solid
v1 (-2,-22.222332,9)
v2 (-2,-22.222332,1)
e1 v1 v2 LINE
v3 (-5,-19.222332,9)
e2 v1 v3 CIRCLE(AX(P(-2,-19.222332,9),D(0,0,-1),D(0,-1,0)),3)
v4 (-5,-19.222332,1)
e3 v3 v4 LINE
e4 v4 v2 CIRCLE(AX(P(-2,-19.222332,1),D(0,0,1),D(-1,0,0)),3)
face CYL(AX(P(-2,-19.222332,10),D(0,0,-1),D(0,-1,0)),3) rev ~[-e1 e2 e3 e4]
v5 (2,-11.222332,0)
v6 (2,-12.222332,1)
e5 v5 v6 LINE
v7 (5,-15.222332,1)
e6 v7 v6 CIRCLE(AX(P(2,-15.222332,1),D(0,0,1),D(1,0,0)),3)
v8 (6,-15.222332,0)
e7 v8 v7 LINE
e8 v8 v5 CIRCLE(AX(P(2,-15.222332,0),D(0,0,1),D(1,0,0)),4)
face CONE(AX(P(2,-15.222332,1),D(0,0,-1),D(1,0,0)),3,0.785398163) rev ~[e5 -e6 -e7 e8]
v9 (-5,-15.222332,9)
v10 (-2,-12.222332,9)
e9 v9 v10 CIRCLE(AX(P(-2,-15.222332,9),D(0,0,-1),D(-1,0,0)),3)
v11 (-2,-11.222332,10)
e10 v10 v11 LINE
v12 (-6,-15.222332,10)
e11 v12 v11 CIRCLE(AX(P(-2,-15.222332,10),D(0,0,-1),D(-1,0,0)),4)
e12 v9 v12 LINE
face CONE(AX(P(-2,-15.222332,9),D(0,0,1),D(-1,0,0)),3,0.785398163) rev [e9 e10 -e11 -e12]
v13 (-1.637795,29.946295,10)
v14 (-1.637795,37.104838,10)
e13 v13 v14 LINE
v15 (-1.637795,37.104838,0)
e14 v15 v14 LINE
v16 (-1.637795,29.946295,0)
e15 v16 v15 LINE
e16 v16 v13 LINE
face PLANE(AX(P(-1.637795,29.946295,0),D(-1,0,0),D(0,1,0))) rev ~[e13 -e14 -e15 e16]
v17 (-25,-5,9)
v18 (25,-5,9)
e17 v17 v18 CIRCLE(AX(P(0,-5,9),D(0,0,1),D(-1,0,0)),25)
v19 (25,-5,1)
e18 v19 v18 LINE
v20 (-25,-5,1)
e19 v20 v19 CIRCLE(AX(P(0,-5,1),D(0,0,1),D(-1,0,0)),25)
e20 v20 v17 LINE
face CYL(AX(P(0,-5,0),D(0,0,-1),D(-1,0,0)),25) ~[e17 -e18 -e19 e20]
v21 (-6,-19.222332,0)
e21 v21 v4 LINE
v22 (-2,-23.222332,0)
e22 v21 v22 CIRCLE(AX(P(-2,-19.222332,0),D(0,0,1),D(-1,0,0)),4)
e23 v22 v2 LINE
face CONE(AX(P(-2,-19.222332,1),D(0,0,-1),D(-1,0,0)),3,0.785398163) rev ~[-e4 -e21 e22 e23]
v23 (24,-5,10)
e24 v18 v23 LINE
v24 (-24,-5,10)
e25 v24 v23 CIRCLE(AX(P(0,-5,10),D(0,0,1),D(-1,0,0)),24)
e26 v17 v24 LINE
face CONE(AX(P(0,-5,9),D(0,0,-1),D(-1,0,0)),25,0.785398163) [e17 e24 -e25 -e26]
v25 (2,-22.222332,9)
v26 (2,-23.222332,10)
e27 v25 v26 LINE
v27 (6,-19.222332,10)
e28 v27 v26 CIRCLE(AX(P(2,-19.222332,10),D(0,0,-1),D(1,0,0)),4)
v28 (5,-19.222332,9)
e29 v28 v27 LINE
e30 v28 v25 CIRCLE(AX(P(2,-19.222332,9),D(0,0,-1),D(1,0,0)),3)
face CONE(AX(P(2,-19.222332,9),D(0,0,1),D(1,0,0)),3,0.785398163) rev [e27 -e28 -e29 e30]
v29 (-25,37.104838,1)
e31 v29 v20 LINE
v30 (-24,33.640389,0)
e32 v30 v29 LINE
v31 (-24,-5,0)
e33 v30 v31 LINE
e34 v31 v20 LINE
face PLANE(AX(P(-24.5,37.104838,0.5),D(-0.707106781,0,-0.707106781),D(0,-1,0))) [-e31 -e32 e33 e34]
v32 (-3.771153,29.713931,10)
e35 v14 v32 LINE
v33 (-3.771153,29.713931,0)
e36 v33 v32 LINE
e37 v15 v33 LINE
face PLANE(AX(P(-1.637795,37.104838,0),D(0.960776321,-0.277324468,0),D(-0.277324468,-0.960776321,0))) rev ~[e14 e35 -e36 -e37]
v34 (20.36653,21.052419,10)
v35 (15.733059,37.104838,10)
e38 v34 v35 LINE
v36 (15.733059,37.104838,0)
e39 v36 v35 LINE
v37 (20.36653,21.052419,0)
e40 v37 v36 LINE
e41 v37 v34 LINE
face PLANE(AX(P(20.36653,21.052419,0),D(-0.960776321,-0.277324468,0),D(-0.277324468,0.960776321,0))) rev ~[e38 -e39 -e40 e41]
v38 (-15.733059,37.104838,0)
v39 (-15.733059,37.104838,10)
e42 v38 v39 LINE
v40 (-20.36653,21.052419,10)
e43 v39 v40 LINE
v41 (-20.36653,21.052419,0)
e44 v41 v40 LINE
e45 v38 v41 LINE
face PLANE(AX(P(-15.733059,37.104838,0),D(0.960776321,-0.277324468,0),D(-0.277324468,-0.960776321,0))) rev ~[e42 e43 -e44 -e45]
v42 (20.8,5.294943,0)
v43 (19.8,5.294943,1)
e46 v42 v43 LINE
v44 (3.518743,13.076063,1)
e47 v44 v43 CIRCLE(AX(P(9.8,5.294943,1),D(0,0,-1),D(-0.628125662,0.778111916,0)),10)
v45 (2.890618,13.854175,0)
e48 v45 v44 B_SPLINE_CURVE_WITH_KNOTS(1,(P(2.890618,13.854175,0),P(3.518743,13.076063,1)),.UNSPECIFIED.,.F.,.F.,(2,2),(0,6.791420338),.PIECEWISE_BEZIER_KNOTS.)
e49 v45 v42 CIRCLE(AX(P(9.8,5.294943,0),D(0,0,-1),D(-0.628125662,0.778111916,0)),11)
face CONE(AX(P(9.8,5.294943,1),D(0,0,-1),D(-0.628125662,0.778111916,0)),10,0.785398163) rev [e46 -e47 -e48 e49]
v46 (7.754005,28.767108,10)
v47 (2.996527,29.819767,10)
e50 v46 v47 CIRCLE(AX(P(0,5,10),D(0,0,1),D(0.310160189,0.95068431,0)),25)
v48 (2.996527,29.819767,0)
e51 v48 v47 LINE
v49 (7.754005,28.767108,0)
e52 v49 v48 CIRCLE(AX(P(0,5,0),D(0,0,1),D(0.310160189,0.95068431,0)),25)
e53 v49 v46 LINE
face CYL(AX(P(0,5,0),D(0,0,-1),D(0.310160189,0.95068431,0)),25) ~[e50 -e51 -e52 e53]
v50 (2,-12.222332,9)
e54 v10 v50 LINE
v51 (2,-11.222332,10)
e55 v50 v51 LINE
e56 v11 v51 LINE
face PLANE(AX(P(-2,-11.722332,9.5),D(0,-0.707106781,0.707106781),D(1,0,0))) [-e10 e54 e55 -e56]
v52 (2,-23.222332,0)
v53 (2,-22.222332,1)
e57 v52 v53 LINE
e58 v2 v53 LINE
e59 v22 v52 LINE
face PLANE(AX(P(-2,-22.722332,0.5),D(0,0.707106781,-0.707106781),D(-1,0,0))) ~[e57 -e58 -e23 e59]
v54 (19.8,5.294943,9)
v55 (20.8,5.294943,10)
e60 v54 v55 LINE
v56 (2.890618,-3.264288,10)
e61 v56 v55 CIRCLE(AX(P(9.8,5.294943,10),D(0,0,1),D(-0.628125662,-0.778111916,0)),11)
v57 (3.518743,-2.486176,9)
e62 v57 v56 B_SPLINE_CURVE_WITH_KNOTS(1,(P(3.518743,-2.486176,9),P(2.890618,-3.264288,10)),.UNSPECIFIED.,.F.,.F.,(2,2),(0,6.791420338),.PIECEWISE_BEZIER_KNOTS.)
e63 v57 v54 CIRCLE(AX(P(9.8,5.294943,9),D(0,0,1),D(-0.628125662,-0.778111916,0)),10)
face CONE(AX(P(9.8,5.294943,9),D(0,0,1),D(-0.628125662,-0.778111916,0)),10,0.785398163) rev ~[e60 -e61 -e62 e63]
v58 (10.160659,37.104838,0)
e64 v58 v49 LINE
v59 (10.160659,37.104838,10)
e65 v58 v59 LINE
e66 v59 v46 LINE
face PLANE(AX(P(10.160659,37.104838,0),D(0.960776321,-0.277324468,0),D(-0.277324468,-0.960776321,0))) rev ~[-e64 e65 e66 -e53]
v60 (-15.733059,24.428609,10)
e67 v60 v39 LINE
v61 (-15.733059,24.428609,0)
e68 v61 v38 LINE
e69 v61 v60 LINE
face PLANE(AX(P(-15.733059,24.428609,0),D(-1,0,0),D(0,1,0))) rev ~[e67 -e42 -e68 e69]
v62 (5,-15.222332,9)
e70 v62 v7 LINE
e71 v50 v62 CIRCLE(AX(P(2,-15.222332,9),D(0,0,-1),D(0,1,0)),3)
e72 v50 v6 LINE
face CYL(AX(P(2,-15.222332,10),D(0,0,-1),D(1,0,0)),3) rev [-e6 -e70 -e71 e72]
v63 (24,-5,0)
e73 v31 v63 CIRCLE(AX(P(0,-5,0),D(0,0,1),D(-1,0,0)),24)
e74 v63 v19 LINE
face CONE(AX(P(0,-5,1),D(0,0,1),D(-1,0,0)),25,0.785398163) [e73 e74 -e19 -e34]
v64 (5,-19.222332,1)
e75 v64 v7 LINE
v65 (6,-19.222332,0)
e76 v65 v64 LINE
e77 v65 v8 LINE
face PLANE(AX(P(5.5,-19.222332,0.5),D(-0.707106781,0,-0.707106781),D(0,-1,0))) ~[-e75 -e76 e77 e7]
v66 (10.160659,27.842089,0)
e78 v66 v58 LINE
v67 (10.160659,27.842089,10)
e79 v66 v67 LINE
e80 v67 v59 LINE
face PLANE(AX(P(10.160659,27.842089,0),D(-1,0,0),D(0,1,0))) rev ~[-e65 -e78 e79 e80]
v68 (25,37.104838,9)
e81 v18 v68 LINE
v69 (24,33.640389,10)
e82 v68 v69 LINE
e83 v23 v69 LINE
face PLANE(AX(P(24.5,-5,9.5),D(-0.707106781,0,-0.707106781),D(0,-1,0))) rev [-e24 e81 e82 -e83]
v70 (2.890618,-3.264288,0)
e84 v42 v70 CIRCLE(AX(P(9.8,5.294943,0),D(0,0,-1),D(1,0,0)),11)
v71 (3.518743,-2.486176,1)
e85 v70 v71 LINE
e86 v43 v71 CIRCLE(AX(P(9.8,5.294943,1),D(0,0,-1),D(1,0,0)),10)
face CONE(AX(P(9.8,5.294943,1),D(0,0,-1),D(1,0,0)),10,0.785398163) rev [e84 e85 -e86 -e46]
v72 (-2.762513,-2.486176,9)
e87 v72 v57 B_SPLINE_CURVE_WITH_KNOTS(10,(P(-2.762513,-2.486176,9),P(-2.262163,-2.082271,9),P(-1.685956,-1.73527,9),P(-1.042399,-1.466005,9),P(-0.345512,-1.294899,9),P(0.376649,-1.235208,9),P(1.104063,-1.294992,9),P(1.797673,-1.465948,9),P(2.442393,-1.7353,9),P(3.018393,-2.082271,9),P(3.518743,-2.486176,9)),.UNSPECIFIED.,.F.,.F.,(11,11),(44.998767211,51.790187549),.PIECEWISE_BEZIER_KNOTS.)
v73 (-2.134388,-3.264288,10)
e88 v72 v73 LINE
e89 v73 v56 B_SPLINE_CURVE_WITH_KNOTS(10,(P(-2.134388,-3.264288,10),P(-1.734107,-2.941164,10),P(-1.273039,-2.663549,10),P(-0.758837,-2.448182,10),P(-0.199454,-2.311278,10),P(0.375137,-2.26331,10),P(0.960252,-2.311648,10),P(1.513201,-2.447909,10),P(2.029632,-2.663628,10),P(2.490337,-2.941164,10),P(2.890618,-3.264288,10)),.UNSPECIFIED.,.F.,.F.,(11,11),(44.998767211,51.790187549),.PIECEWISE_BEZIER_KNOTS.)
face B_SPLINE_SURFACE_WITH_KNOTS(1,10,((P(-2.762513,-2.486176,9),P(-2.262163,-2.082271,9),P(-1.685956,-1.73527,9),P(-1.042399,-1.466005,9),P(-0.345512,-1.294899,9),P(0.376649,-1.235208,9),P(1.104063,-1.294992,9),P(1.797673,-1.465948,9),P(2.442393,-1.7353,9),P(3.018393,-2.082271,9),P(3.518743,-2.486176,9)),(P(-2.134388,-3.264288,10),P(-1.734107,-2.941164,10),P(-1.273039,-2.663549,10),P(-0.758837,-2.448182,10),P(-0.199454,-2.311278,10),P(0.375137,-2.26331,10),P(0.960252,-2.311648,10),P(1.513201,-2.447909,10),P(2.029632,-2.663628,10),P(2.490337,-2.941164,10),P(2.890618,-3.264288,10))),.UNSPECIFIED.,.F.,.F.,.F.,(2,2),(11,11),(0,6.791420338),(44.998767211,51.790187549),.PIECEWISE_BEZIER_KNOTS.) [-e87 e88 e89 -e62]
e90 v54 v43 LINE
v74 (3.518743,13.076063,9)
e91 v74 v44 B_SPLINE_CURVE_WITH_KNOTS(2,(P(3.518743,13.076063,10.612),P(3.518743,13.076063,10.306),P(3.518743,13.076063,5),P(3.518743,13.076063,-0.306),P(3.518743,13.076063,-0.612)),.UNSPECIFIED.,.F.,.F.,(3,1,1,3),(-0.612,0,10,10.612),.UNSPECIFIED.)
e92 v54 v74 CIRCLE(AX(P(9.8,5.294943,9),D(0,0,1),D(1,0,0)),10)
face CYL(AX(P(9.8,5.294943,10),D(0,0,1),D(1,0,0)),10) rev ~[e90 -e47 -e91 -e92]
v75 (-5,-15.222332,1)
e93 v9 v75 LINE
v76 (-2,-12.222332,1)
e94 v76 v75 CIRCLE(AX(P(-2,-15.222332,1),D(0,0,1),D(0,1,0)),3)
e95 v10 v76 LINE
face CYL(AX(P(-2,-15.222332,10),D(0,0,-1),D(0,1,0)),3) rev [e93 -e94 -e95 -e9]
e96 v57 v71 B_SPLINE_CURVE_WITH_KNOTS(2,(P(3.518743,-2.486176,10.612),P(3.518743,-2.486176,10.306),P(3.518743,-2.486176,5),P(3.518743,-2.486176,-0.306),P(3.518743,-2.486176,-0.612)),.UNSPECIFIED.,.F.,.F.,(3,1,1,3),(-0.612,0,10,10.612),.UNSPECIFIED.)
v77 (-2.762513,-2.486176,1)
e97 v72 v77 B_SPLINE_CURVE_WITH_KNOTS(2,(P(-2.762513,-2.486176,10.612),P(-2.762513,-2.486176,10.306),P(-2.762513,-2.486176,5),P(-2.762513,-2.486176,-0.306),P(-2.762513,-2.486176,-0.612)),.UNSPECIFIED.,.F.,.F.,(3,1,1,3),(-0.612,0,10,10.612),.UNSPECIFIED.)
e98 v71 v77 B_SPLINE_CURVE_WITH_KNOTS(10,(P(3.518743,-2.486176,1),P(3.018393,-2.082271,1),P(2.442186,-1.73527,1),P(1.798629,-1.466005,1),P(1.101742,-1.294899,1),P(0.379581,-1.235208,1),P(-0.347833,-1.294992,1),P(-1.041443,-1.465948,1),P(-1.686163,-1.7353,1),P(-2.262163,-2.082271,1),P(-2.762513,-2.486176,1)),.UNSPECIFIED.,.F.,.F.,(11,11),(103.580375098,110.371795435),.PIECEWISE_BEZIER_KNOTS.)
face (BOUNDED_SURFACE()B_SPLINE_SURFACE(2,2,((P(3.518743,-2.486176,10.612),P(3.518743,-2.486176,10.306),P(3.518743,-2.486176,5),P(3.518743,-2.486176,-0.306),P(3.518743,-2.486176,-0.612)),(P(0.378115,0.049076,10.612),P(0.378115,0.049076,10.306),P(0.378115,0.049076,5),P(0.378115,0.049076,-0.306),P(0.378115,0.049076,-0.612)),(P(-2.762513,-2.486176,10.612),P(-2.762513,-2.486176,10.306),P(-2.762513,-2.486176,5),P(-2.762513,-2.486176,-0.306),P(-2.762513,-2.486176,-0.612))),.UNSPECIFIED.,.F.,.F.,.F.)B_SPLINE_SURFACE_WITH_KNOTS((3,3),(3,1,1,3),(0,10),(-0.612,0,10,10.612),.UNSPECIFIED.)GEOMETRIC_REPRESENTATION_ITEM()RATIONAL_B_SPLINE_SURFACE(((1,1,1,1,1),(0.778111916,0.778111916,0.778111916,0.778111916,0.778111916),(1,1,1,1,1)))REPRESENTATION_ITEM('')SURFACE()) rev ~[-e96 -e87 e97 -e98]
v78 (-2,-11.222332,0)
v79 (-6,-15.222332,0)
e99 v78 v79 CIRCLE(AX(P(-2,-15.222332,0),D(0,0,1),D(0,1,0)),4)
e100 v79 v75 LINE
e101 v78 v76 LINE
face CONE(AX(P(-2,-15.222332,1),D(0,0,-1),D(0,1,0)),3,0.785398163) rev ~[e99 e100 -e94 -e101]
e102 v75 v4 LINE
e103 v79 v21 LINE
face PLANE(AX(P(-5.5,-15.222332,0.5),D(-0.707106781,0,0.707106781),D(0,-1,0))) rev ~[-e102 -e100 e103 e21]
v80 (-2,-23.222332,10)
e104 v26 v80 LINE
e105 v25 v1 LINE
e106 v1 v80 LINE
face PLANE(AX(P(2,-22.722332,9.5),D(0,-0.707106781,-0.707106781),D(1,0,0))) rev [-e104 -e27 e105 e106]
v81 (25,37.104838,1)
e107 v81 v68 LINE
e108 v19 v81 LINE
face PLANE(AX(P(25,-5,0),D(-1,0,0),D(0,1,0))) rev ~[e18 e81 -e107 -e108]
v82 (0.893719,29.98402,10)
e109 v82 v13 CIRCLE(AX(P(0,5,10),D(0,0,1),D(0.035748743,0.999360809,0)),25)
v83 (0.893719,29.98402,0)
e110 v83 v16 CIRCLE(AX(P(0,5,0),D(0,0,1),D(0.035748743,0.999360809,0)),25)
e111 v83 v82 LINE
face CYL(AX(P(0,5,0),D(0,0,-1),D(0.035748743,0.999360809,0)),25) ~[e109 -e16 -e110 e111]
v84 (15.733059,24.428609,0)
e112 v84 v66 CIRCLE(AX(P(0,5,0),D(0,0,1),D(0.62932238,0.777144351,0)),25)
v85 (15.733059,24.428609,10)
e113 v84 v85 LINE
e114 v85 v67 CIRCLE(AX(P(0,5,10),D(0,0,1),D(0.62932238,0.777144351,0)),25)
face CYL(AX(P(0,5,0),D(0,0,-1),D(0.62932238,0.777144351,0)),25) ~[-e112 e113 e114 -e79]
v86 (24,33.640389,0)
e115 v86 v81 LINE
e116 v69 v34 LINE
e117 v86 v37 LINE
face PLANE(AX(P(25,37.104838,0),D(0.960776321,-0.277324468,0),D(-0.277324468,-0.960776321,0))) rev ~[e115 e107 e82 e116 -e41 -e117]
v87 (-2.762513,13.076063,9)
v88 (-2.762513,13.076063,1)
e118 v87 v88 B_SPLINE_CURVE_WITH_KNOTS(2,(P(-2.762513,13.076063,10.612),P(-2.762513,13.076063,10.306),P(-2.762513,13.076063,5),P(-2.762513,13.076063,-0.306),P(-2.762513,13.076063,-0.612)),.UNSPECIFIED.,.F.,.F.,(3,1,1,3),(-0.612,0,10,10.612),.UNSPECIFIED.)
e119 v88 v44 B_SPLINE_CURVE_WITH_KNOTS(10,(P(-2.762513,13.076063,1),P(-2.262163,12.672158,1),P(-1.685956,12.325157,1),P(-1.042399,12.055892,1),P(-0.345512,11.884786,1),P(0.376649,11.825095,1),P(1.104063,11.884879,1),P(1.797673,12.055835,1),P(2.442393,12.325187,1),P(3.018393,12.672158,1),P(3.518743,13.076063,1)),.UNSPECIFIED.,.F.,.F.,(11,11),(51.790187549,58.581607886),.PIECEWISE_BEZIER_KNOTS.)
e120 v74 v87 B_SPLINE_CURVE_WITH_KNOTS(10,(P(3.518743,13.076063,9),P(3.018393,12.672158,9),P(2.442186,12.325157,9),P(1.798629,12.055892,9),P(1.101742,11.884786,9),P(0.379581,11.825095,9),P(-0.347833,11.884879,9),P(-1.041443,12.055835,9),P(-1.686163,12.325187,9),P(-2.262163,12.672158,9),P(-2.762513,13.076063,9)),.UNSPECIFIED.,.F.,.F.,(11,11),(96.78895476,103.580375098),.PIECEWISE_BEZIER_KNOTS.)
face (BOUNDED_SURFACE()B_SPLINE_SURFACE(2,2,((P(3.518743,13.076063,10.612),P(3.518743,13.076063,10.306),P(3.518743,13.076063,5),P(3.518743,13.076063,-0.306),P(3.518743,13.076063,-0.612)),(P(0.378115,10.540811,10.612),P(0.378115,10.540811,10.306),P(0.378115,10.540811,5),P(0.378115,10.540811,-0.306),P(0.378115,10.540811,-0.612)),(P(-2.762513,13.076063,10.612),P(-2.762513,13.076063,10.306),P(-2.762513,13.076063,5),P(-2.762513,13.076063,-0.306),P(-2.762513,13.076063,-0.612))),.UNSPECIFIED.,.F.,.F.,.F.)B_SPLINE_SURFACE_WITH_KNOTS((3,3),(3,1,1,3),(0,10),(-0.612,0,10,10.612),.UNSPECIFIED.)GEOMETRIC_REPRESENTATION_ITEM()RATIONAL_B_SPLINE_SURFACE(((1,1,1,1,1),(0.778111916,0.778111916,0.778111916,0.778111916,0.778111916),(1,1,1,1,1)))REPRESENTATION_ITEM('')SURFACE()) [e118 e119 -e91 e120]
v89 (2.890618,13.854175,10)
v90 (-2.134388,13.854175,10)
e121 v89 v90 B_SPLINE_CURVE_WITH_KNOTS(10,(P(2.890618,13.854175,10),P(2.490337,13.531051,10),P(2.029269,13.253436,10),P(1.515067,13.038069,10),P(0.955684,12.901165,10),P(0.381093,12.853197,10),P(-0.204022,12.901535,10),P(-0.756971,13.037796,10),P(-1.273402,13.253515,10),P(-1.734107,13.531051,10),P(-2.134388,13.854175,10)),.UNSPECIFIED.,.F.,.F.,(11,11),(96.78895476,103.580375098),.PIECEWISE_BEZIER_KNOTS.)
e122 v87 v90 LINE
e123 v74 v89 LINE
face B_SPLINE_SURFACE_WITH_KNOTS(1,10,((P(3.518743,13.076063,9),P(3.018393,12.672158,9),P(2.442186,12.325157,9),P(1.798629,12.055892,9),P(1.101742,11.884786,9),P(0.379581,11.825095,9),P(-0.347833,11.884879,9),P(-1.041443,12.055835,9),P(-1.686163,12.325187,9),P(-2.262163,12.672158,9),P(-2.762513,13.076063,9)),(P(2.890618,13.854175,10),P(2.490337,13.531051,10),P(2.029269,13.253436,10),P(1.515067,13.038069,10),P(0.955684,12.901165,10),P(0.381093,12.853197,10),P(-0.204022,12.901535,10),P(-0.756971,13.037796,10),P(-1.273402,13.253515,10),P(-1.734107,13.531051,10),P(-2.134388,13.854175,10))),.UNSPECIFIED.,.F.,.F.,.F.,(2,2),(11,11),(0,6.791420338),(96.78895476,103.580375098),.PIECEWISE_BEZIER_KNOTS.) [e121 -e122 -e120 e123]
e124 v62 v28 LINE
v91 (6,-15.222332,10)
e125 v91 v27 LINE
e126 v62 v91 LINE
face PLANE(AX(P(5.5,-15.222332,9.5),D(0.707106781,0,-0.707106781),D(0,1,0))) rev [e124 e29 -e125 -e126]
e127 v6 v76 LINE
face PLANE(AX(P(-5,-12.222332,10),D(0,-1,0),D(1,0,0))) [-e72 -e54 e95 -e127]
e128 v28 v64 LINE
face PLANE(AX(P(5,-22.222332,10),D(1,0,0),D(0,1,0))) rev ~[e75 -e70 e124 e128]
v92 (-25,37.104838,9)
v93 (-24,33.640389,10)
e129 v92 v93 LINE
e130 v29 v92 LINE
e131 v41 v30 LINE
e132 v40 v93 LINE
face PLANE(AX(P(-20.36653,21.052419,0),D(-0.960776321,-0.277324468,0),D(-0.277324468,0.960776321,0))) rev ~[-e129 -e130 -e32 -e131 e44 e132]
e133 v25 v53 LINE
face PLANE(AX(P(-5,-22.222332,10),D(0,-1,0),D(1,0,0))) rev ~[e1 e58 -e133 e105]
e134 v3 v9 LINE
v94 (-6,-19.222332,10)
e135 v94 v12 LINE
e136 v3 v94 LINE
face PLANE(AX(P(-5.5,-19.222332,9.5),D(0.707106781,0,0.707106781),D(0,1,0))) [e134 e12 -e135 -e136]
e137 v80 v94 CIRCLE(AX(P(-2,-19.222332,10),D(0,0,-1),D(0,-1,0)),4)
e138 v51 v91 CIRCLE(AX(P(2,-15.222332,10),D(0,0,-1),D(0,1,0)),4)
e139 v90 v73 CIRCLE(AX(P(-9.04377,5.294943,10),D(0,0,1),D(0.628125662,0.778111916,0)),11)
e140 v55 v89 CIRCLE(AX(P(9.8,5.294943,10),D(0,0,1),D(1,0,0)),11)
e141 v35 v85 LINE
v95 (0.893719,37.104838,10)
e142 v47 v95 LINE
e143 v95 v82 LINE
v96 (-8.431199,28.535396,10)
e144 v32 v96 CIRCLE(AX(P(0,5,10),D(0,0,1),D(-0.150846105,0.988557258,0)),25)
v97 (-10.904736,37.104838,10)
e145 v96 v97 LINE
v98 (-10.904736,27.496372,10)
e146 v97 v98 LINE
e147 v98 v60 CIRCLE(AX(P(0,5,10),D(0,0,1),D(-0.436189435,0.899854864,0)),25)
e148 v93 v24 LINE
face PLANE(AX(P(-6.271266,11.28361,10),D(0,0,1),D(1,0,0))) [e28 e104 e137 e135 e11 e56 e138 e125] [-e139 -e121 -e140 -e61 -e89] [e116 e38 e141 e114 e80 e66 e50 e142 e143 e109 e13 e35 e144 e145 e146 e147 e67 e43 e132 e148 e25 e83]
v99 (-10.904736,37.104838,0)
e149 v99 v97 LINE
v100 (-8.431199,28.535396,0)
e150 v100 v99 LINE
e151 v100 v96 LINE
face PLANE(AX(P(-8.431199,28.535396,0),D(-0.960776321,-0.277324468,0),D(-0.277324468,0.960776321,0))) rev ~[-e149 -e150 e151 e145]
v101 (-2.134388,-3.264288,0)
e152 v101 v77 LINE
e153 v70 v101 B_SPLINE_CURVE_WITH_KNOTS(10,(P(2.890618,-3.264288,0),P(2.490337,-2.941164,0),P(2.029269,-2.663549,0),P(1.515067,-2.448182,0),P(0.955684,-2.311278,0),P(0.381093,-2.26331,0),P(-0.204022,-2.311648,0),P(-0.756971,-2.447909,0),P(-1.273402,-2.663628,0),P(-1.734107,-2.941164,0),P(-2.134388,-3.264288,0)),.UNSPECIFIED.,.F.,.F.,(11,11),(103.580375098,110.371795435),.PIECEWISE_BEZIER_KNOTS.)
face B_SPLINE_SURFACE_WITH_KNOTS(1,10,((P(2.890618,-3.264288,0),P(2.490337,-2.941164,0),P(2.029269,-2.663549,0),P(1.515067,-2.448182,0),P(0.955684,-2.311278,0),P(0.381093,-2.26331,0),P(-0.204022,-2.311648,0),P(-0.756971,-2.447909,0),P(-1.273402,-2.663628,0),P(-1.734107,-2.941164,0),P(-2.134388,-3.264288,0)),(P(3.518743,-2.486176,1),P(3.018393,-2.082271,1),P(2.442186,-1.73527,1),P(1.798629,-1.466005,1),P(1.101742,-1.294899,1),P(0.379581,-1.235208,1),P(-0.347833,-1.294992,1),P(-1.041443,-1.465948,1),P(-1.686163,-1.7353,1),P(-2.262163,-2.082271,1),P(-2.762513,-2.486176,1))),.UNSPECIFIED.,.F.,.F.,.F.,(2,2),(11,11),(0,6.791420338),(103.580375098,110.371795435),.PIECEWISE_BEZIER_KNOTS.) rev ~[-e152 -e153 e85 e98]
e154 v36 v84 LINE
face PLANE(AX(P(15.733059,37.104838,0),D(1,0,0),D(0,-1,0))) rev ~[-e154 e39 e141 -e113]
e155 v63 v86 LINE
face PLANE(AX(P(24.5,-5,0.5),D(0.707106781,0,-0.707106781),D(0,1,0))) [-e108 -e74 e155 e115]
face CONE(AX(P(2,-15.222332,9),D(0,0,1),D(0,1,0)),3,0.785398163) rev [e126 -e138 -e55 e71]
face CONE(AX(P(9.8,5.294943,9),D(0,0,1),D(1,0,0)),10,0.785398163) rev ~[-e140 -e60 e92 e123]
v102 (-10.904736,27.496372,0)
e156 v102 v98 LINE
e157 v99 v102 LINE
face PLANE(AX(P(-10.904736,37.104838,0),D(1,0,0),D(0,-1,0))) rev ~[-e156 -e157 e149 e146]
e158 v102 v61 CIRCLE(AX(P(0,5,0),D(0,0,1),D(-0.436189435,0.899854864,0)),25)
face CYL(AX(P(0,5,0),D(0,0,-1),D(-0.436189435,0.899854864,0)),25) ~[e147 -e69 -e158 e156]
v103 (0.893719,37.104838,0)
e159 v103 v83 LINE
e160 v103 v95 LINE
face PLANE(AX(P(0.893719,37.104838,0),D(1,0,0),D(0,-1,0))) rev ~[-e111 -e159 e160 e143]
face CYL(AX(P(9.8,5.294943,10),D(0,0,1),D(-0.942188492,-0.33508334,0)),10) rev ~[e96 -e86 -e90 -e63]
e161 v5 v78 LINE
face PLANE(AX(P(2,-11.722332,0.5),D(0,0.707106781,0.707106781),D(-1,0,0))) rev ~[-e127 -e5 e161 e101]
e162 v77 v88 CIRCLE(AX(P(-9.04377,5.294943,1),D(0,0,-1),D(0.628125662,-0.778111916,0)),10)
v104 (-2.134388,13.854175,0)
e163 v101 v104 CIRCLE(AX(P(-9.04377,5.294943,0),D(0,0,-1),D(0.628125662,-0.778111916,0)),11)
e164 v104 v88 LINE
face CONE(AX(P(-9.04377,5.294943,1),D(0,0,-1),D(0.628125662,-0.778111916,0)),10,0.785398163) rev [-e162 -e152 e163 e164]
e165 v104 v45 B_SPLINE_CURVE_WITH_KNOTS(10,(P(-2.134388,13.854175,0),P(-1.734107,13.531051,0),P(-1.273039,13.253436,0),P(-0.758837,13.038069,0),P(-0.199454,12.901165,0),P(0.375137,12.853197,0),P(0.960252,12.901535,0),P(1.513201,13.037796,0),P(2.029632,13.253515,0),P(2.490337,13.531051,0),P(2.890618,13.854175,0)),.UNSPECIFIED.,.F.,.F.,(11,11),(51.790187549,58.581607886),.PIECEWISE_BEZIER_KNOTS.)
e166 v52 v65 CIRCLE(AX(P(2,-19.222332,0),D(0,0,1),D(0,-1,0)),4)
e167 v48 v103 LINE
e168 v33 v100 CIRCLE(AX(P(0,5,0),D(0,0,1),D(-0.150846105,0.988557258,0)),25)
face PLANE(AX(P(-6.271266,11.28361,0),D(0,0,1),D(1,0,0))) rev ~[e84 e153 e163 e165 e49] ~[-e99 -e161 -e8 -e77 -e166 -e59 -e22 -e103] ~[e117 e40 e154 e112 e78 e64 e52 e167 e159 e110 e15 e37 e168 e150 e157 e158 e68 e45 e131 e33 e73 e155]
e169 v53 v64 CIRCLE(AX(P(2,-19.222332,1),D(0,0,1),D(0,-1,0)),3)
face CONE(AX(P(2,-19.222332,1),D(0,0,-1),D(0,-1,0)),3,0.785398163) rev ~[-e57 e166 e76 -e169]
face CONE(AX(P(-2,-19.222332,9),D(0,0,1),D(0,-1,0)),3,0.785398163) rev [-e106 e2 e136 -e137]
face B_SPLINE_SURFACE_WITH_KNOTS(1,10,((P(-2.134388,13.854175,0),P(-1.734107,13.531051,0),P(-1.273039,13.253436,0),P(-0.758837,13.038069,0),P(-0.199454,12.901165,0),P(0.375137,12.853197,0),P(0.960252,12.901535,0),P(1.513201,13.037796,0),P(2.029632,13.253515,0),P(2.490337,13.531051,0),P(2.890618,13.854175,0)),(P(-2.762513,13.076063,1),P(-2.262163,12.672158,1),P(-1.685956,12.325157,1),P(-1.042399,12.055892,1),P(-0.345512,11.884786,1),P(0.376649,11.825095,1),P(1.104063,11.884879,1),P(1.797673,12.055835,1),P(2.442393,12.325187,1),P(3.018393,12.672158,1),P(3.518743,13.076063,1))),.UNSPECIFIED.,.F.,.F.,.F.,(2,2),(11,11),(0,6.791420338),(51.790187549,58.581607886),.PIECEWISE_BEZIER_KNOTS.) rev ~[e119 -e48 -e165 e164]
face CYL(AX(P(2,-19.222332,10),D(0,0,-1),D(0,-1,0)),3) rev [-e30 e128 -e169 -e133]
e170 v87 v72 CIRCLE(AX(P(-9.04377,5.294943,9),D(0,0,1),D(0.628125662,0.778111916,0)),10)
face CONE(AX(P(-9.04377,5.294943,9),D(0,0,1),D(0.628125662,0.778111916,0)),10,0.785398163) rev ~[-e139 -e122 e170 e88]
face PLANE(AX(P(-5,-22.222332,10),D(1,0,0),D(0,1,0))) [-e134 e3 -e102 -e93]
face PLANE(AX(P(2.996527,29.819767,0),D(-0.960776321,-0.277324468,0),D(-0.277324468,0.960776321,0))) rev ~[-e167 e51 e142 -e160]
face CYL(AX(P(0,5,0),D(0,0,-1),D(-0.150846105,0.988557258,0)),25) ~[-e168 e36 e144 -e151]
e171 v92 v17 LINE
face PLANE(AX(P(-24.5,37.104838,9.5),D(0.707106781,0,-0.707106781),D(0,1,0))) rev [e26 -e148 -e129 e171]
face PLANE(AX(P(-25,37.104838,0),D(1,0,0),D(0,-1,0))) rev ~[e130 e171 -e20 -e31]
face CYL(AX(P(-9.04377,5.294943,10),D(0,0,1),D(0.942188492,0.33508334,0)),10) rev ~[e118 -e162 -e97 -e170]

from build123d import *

# Parameters (mm, degrees)
F1_DEPTH = 10
F3_DEPTH = 25
F4_R     = 5
F5_W     = 10
F5_H     = 10
F6_DEPTH = 25
F7_R     = 3
F8_SIZE  = 1


with BuildPart() as f1:
    # F0 (on Top) → F1 (new body)
    with BuildSketch(Plane.XY):
        Polygon((-10.9047358856, 5), (-1.6377953812, 5), (-6.2712656334, 21.0524187982), align=None)
        Polygon((0.893718563, 5), (10.1606590673, 5), (5.5271888152, 21.0524187982), align=None)
        with BuildLine():
            ThreePointArc((-25, -5), (0, -30), (25, -5))
            Line((25, -5), (-25, -5))
        make_face()
        with BuildLine():
            ThreePointArc((7.7540047355, 28.767107745), (8.969264738, 28.3356441964), (10.1606590673, 27.842088506))
            Line((10.1606590673, 27.842088506), (10.1606590673, 37.1048375964))
            Line((10.1606590673, 37.1048375964), (7.7540047355, 28.767107745))
        make_face()
        with BuildLine():
            Line((0.893718563, 37.1048375964), (0.893718563, 29.9840202355))
            ThreePointArc((0.893718563, 29.9840202355), (1.9468556818, 29.9240797815), (2.9965268036, 29.8197668626))
            Line((2.9965268036, 29.8197668626), (0.893718563, 37.1048375964))
        make_face()
        with BuildLine():
            ThreePointArc((-3.7711526138, 29.713931455), (-2.7069683761, 29.8530143486), (-1.6377953812, 29.9462948409))
            Line((-1.6377953812, 29.9462948409), (-1.6377953812, 37.1048375964))
            Line((-1.6377953812, 37.1048375964), (-3.7711526138, 29.713931455))
        make_face()
        with BuildLine():
            Line((-10.9047358856, 37.1048375964), (-10.9047358856, 27.4963716022))
            ThreePointArc((-10.9047358856, 27.4963716022), (-9.6819154679, 28.0490891983), (-8.4311989498, 28.535396412))
            Line((-8.4311989498, 28.535396412), (-10.9047358856, 37.1048375964))
        make_face()
        with BuildLine():
            ThreePointArc((21.1545569723, 18.3223391079), (24.0194080309, 11.9331117001), (25, 5))
            Line((25, 5), (25, 37.1048375964))
            Line((25, 37.1048375964), (20.3665297478, 21.0524187982))
            Line((20.3665297478, 21.0524187982), (21.1545569723, 18.3223391079))
        make_face()
        with BuildLine():
            Line((21.1545569723, 18.3223391079), (25, 5))
            ThreePointArc((25, 5), (24.0194080309, 11.9331117001), (21.1545569723, 18.3223391079))
        make_face()
        with BuildLine():
            ThreePointArc((15.7330594957, 24.4286087743), (18.0294324279, 22.3187634179), (20.0452738513, 19.9394443078))
            Line((20.0452738513, 19.9394443078), (20.3665297478, 21.0524187982))
            Line((20.3665297478, 21.0524187982), (15.7330594957, 37.1048375964))
            Line((15.7330594957, 37.1048375964), (15.7330594957, 24.4286087743))
        make_face()
        with BuildLine():
            Line((2.9965268036, 29.8197668626), (5.5271888152, 21.0524187982))
            Line((5.5271888152, 21.0524187982), (7.7540047355, 28.767107745))
            ThreePointArc((7.7540047355, 28.767107745), (5.4009725881, 29.4096189053), (2.9965268036, 29.8197668626))
        make_face()
        with BuildLine():
            Line((-8.4311989498, 28.535396412), (-6.2712656334, 21.0524187982))
            Line((-6.2712656334, 21.0524187982), (-3.7711526138, 29.713931455))
            ThreePointArc((-3.7711526138, 29.713931455), (-6.1295662271, 29.2369226155), (-8.4311989498, 28.535396412))
        make_face()
        with BuildLine():
            Line((-20.3665297478, 21.0524187982), (-20.0452738513, 19.9394443078))
            ThreePointArc((-20.0452738513, 19.9394443078), (-18.0294324279, 22.3187634179), (-15.7330594957, 24.4286087743))
            Line((-15.7330594957, 24.4286087743), (-15.7330594957, 37.1048375964))
            Line((-15.7330594957, 37.1048375964), (-20.3665297478, 21.0524187982))
        make_face()
        with BuildLine():
            Line((-25, 37.1048375964), (-25, 5))
            ThreePointArc((-25, 5), (-24.0194080309, 11.9331117001), (-21.1545569723, 18.3223391079))
            Line((-21.1545569723, 18.3223391079), (-20.3665297478, 21.0524187982))
            Line((-20.3665297478, 21.0524187982), (-25, 37.1048375964))
        make_face()
        with BuildLine():
            ThreePointArc((-21.1545569723, 18.3223391079), (-24.0194080309, 11.9331117001), (-25, 5))
            Line((-25, 5), (-21.1545569723, 18.3223391079))
        make_face()
        with BuildLine():
            Line((10.1606590673, 5), (15.7330594957, 5))
            Line((15.7330594957, 5), (15.7330594957, 24.4286087743))
            ThreePointArc((15.7330594957, 24.4286087743), (13.0588715525, 26.3182052194), (10.1606590673, 27.842088506))
            Line((10.1606590673, 27.842088506), (10.1606590673, 5))
        make_face()
        with BuildLine():
            Line((-1.6377953812, 5), (0.893718563, 5))
            Line((0.893718563, 5), (0.893718563, 29.9840202355))
            ThreePointArc((0.893718563, 29.9840202355), (-0.3725162805, 29.9972244783), (-1.6377953812, 29.9462948409))
            Line((-1.6377953812, 29.9462948409), (-1.6377953812, 5))
        make_face()
        with BuildLine():
            Line((-15.7330594957, 24.4286087743), (-15.7330594957, 5))
            Line((-15.7330594957, 5), (-10.9047358856, 5))
            Line((-10.9047358856, 5), (-10.9047358856, 27.4963716022))
            ThreePointArc((-10.9047358856, 27.4963716022), (-13.4069320833, 26.1010467066), (-15.7330594957, 24.4286087743))
        make_face()
        with BuildLine():
            ThreePointArc((20.0452738513, 19.9394443078), (20.615777266, 19.1417724391), (21.1545569723, 18.3223391079))
            Line((21.1545569723, 18.3223391079), (20.3665297478, 21.0524187982))
            Line((20.3665297478, 21.0524187982), (20.0452738513, 19.9394443078))
        make_face()
        with BuildLine():
            Line((15.7330594957, 24.4286087743), (15.7330594957, 5))
            Line((15.7330594957, 5), (20.0452738513, 19.9394443078))
            ThreePointArc((20.0452738513, 19.9394443078), (18.0294324279, 22.3187634179), (15.7330594957, 24.4286087743))
        make_face()
        with BuildLine():
            Line((-20.0452738513, 19.9394443078), (-15.7330594957, 5))
            Line((-15.7330594957, 5), (-15.7330594957, 24.4286087743))
            ThreePointArc((-15.7330594957, 24.4286087743), (-18.0294324279, 22.3187634179), (-20.0452738513, 19.9394443078))
        make_face()
        with BuildLine():
            Line((-20.3665297478, 21.0524187982), (-21.1545569723, 18.3223391079))
            ThreePointArc((-21.1545569723, 18.3223391079), (-20.615777266, 19.1417724391), (-20.0452738513, 19.9394443078))
            Line((-20.0452738513, 19.9394443078), (-20.3665297478, 21.0524187982))
        make_face()
        with BuildLine():
            Line((15.7330594957, 5), (25, 5))
            Line((25, 5), (21.1545569723, 18.3223391079))
            ThreePointArc((21.1545569723, 18.3223391079), (20.615777266, 19.1417724391), (20.0452738513, 19.9394443078))
            Line((20.0452738513, 19.9394443078), (15.7330594957, 5))
        make_face()
        with BuildLine():
            Line((5.5271888152, 21.0524187982), (10.1606590673, 5))
            Line((10.1606590673, 5), (10.1606590673, 27.842088506))
            ThreePointArc((10.1606590673, 27.842088506), (8.969264738, 28.3356441964), (7.7540047355, 28.767107745))
            Line((7.7540047355, 28.767107745), (5.5271888152, 21.0524187982))
        make_face()
        with BuildLine():
            Line((0.893718563, 29.9840202355), (0.893718563, 5))
            Line((0.893718563, 5), (5.5271888152, 21.0524187982))
            Line((5.5271888152, 21.0524187982), (2.9965268036, 29.8197668626))
            ThreePointArc((2.9965268036, 29.8197668626), (1.9468556818, 29.9240797815), (0.893718563, 29.9840202355))
        make_face()
        with BuildLine():
            Line((-6.2712656334, 21.0524187982), (-1.6377953812, 5))
            Line((-1.6377953812, 5), (-1.6377953812, 29.9462948409))
            ThreePointArc((-1.6377953812, 29.9462948409), (-2.7069683761, 29.8530143486), (-3.7711526138, 29.713931455))
            Line((-3.7711526138, 29.713931455), (-6.2712656334, 21.0524187982))
        make_face()
        with BuildLine():
            Line((-10.9047358856, 27.4963716022), (-10.9047358856, 5))
            Line((-10.9047358856, 5), (-6.2712656334, 21.0524187982))
            Line((-6.2712656334, 21.0524187982), (-8.4311989498, 28.535396412))
            ThreePointArc((-8.4311989498, 28.535396412), (-9.6819154679, 28.0490891983), (-10.9047358856, 27.4963716022))
        make_face()
        Polygon((25, -5), (25, 5), (15.7330594957, 5), (10.1606590673, 5), (0.893718563, 5), (-1.6377953812, 5), (-10.9047358856, 5), (-15.7330594957, 5), (-25, 5), (-25, -5), align=None)
        with BuildLine():
            Line((-21.1545569723, 18.3223391079), (-25, 5))
            Line((-25, 5), (-15.7330594957, 5))
            Line((-15.7330594957, 5), (-20.0452738513, 19.9394443078))
            ThreePointArc((-20.0452738513, 19.9394443078), (-20.615777266, 19.1417724391), (-21.1545569723, 18.3223391079))
        make_face()
    extrude(amount=F1_DEPTH)

    # F2 (on face) → F3 (cut)
    with BuildSketch(Plane.XY.offset(10)):
        with BuildLine():
            ThreePointArc((0.3781150769, 1.944110059), (0.8106415831, 3.5947742399), (0.9562301539, 5.2949434623))
            ThreePointArc((0.9562301539, 5.2949434623), (0.8106415831, 6.9951126847), (0.3781150769, 8.6457768657))
            ThreePointArc((0.3781150769, 8.6457768657), (-0.2, 5.2949434623), (0.3781150769, 1.944110059))
        make_face()
        with BuildLine():
            ThreePointArc((0.3781150769, 8.6457768657), (0.8106415831, 6.9951126847), (0.9562301539, 5.2949434623))
            ThreePointArc((0.9562301539, 5.2949434623), (0.8106415831, 3.5947742399), (0.3781150769, 1.944110059))
            ThreePointArc((0.3781150769, 1.944110059), (11.5001692224, -4.5594679668), (19.8, 5.2949434623))
            ThreePointArc((19.8, 5.2949434623), (11.5001692224, 15.1493548915), (0.3781150769, 8.6457768657))
        make_face()
        with BuildLine():
            ThreePointArc((0.3781150769, 1.944110059), (-0.2, 5.2949434623), (0.3781150769, 8.6457768657))
            ThreePointArc((0.3781150769, 8.6457768657), (-19.0437698461, 5.2949434623), (0.3781150769, 1.944110059))
        make_face()
    extrude(amount=-F3_DEPTH, mode=Mode.SUBTRACT)

    # F4
    f4_edges = [f1.edges().sort_by_distance(p)[0] for p in [
        (0.378115, 8.645777, 5),
        (0.378115, 1.94411, 5),
    ]]
    fillet(f4_edges, radius=F4_R)

    # F5 (on face) → F6 (cut)
    with BuildSketch(Plane.XY.offset(10)):
        with Locations((0, -17.2223318368)):
            Rectangle(F5_W, F5_H)
    extrude(amount=-F6_DEPTH, mode=Mode.SUBTRACT)

    # F7
    f7_edges = [f1.edges().sort_by_distance(p)[0] for p in [
        (-5, -22.222332, 5),
        (-5, -12.222332, 5),
        (5, -12.222332, 5),
        (5, -22.222332, 5),
    ]]
    fillet(f7_edges, radius=F7_R)

    # F8
    f8_edges = [f1.edges().sort_by_distance(p)[0] for p in [
        (0, -30, 10),
        (0, -30, 0),
        (-19.04377, 5.294943, 10),
        (0, -12.222332, 10),
        (0, -22.222332, 0),
        (0.378115, -1.376735, 0),
    ]]
    chamfer(f8_edges, length=F8_SIZE)


solid = f1.part
